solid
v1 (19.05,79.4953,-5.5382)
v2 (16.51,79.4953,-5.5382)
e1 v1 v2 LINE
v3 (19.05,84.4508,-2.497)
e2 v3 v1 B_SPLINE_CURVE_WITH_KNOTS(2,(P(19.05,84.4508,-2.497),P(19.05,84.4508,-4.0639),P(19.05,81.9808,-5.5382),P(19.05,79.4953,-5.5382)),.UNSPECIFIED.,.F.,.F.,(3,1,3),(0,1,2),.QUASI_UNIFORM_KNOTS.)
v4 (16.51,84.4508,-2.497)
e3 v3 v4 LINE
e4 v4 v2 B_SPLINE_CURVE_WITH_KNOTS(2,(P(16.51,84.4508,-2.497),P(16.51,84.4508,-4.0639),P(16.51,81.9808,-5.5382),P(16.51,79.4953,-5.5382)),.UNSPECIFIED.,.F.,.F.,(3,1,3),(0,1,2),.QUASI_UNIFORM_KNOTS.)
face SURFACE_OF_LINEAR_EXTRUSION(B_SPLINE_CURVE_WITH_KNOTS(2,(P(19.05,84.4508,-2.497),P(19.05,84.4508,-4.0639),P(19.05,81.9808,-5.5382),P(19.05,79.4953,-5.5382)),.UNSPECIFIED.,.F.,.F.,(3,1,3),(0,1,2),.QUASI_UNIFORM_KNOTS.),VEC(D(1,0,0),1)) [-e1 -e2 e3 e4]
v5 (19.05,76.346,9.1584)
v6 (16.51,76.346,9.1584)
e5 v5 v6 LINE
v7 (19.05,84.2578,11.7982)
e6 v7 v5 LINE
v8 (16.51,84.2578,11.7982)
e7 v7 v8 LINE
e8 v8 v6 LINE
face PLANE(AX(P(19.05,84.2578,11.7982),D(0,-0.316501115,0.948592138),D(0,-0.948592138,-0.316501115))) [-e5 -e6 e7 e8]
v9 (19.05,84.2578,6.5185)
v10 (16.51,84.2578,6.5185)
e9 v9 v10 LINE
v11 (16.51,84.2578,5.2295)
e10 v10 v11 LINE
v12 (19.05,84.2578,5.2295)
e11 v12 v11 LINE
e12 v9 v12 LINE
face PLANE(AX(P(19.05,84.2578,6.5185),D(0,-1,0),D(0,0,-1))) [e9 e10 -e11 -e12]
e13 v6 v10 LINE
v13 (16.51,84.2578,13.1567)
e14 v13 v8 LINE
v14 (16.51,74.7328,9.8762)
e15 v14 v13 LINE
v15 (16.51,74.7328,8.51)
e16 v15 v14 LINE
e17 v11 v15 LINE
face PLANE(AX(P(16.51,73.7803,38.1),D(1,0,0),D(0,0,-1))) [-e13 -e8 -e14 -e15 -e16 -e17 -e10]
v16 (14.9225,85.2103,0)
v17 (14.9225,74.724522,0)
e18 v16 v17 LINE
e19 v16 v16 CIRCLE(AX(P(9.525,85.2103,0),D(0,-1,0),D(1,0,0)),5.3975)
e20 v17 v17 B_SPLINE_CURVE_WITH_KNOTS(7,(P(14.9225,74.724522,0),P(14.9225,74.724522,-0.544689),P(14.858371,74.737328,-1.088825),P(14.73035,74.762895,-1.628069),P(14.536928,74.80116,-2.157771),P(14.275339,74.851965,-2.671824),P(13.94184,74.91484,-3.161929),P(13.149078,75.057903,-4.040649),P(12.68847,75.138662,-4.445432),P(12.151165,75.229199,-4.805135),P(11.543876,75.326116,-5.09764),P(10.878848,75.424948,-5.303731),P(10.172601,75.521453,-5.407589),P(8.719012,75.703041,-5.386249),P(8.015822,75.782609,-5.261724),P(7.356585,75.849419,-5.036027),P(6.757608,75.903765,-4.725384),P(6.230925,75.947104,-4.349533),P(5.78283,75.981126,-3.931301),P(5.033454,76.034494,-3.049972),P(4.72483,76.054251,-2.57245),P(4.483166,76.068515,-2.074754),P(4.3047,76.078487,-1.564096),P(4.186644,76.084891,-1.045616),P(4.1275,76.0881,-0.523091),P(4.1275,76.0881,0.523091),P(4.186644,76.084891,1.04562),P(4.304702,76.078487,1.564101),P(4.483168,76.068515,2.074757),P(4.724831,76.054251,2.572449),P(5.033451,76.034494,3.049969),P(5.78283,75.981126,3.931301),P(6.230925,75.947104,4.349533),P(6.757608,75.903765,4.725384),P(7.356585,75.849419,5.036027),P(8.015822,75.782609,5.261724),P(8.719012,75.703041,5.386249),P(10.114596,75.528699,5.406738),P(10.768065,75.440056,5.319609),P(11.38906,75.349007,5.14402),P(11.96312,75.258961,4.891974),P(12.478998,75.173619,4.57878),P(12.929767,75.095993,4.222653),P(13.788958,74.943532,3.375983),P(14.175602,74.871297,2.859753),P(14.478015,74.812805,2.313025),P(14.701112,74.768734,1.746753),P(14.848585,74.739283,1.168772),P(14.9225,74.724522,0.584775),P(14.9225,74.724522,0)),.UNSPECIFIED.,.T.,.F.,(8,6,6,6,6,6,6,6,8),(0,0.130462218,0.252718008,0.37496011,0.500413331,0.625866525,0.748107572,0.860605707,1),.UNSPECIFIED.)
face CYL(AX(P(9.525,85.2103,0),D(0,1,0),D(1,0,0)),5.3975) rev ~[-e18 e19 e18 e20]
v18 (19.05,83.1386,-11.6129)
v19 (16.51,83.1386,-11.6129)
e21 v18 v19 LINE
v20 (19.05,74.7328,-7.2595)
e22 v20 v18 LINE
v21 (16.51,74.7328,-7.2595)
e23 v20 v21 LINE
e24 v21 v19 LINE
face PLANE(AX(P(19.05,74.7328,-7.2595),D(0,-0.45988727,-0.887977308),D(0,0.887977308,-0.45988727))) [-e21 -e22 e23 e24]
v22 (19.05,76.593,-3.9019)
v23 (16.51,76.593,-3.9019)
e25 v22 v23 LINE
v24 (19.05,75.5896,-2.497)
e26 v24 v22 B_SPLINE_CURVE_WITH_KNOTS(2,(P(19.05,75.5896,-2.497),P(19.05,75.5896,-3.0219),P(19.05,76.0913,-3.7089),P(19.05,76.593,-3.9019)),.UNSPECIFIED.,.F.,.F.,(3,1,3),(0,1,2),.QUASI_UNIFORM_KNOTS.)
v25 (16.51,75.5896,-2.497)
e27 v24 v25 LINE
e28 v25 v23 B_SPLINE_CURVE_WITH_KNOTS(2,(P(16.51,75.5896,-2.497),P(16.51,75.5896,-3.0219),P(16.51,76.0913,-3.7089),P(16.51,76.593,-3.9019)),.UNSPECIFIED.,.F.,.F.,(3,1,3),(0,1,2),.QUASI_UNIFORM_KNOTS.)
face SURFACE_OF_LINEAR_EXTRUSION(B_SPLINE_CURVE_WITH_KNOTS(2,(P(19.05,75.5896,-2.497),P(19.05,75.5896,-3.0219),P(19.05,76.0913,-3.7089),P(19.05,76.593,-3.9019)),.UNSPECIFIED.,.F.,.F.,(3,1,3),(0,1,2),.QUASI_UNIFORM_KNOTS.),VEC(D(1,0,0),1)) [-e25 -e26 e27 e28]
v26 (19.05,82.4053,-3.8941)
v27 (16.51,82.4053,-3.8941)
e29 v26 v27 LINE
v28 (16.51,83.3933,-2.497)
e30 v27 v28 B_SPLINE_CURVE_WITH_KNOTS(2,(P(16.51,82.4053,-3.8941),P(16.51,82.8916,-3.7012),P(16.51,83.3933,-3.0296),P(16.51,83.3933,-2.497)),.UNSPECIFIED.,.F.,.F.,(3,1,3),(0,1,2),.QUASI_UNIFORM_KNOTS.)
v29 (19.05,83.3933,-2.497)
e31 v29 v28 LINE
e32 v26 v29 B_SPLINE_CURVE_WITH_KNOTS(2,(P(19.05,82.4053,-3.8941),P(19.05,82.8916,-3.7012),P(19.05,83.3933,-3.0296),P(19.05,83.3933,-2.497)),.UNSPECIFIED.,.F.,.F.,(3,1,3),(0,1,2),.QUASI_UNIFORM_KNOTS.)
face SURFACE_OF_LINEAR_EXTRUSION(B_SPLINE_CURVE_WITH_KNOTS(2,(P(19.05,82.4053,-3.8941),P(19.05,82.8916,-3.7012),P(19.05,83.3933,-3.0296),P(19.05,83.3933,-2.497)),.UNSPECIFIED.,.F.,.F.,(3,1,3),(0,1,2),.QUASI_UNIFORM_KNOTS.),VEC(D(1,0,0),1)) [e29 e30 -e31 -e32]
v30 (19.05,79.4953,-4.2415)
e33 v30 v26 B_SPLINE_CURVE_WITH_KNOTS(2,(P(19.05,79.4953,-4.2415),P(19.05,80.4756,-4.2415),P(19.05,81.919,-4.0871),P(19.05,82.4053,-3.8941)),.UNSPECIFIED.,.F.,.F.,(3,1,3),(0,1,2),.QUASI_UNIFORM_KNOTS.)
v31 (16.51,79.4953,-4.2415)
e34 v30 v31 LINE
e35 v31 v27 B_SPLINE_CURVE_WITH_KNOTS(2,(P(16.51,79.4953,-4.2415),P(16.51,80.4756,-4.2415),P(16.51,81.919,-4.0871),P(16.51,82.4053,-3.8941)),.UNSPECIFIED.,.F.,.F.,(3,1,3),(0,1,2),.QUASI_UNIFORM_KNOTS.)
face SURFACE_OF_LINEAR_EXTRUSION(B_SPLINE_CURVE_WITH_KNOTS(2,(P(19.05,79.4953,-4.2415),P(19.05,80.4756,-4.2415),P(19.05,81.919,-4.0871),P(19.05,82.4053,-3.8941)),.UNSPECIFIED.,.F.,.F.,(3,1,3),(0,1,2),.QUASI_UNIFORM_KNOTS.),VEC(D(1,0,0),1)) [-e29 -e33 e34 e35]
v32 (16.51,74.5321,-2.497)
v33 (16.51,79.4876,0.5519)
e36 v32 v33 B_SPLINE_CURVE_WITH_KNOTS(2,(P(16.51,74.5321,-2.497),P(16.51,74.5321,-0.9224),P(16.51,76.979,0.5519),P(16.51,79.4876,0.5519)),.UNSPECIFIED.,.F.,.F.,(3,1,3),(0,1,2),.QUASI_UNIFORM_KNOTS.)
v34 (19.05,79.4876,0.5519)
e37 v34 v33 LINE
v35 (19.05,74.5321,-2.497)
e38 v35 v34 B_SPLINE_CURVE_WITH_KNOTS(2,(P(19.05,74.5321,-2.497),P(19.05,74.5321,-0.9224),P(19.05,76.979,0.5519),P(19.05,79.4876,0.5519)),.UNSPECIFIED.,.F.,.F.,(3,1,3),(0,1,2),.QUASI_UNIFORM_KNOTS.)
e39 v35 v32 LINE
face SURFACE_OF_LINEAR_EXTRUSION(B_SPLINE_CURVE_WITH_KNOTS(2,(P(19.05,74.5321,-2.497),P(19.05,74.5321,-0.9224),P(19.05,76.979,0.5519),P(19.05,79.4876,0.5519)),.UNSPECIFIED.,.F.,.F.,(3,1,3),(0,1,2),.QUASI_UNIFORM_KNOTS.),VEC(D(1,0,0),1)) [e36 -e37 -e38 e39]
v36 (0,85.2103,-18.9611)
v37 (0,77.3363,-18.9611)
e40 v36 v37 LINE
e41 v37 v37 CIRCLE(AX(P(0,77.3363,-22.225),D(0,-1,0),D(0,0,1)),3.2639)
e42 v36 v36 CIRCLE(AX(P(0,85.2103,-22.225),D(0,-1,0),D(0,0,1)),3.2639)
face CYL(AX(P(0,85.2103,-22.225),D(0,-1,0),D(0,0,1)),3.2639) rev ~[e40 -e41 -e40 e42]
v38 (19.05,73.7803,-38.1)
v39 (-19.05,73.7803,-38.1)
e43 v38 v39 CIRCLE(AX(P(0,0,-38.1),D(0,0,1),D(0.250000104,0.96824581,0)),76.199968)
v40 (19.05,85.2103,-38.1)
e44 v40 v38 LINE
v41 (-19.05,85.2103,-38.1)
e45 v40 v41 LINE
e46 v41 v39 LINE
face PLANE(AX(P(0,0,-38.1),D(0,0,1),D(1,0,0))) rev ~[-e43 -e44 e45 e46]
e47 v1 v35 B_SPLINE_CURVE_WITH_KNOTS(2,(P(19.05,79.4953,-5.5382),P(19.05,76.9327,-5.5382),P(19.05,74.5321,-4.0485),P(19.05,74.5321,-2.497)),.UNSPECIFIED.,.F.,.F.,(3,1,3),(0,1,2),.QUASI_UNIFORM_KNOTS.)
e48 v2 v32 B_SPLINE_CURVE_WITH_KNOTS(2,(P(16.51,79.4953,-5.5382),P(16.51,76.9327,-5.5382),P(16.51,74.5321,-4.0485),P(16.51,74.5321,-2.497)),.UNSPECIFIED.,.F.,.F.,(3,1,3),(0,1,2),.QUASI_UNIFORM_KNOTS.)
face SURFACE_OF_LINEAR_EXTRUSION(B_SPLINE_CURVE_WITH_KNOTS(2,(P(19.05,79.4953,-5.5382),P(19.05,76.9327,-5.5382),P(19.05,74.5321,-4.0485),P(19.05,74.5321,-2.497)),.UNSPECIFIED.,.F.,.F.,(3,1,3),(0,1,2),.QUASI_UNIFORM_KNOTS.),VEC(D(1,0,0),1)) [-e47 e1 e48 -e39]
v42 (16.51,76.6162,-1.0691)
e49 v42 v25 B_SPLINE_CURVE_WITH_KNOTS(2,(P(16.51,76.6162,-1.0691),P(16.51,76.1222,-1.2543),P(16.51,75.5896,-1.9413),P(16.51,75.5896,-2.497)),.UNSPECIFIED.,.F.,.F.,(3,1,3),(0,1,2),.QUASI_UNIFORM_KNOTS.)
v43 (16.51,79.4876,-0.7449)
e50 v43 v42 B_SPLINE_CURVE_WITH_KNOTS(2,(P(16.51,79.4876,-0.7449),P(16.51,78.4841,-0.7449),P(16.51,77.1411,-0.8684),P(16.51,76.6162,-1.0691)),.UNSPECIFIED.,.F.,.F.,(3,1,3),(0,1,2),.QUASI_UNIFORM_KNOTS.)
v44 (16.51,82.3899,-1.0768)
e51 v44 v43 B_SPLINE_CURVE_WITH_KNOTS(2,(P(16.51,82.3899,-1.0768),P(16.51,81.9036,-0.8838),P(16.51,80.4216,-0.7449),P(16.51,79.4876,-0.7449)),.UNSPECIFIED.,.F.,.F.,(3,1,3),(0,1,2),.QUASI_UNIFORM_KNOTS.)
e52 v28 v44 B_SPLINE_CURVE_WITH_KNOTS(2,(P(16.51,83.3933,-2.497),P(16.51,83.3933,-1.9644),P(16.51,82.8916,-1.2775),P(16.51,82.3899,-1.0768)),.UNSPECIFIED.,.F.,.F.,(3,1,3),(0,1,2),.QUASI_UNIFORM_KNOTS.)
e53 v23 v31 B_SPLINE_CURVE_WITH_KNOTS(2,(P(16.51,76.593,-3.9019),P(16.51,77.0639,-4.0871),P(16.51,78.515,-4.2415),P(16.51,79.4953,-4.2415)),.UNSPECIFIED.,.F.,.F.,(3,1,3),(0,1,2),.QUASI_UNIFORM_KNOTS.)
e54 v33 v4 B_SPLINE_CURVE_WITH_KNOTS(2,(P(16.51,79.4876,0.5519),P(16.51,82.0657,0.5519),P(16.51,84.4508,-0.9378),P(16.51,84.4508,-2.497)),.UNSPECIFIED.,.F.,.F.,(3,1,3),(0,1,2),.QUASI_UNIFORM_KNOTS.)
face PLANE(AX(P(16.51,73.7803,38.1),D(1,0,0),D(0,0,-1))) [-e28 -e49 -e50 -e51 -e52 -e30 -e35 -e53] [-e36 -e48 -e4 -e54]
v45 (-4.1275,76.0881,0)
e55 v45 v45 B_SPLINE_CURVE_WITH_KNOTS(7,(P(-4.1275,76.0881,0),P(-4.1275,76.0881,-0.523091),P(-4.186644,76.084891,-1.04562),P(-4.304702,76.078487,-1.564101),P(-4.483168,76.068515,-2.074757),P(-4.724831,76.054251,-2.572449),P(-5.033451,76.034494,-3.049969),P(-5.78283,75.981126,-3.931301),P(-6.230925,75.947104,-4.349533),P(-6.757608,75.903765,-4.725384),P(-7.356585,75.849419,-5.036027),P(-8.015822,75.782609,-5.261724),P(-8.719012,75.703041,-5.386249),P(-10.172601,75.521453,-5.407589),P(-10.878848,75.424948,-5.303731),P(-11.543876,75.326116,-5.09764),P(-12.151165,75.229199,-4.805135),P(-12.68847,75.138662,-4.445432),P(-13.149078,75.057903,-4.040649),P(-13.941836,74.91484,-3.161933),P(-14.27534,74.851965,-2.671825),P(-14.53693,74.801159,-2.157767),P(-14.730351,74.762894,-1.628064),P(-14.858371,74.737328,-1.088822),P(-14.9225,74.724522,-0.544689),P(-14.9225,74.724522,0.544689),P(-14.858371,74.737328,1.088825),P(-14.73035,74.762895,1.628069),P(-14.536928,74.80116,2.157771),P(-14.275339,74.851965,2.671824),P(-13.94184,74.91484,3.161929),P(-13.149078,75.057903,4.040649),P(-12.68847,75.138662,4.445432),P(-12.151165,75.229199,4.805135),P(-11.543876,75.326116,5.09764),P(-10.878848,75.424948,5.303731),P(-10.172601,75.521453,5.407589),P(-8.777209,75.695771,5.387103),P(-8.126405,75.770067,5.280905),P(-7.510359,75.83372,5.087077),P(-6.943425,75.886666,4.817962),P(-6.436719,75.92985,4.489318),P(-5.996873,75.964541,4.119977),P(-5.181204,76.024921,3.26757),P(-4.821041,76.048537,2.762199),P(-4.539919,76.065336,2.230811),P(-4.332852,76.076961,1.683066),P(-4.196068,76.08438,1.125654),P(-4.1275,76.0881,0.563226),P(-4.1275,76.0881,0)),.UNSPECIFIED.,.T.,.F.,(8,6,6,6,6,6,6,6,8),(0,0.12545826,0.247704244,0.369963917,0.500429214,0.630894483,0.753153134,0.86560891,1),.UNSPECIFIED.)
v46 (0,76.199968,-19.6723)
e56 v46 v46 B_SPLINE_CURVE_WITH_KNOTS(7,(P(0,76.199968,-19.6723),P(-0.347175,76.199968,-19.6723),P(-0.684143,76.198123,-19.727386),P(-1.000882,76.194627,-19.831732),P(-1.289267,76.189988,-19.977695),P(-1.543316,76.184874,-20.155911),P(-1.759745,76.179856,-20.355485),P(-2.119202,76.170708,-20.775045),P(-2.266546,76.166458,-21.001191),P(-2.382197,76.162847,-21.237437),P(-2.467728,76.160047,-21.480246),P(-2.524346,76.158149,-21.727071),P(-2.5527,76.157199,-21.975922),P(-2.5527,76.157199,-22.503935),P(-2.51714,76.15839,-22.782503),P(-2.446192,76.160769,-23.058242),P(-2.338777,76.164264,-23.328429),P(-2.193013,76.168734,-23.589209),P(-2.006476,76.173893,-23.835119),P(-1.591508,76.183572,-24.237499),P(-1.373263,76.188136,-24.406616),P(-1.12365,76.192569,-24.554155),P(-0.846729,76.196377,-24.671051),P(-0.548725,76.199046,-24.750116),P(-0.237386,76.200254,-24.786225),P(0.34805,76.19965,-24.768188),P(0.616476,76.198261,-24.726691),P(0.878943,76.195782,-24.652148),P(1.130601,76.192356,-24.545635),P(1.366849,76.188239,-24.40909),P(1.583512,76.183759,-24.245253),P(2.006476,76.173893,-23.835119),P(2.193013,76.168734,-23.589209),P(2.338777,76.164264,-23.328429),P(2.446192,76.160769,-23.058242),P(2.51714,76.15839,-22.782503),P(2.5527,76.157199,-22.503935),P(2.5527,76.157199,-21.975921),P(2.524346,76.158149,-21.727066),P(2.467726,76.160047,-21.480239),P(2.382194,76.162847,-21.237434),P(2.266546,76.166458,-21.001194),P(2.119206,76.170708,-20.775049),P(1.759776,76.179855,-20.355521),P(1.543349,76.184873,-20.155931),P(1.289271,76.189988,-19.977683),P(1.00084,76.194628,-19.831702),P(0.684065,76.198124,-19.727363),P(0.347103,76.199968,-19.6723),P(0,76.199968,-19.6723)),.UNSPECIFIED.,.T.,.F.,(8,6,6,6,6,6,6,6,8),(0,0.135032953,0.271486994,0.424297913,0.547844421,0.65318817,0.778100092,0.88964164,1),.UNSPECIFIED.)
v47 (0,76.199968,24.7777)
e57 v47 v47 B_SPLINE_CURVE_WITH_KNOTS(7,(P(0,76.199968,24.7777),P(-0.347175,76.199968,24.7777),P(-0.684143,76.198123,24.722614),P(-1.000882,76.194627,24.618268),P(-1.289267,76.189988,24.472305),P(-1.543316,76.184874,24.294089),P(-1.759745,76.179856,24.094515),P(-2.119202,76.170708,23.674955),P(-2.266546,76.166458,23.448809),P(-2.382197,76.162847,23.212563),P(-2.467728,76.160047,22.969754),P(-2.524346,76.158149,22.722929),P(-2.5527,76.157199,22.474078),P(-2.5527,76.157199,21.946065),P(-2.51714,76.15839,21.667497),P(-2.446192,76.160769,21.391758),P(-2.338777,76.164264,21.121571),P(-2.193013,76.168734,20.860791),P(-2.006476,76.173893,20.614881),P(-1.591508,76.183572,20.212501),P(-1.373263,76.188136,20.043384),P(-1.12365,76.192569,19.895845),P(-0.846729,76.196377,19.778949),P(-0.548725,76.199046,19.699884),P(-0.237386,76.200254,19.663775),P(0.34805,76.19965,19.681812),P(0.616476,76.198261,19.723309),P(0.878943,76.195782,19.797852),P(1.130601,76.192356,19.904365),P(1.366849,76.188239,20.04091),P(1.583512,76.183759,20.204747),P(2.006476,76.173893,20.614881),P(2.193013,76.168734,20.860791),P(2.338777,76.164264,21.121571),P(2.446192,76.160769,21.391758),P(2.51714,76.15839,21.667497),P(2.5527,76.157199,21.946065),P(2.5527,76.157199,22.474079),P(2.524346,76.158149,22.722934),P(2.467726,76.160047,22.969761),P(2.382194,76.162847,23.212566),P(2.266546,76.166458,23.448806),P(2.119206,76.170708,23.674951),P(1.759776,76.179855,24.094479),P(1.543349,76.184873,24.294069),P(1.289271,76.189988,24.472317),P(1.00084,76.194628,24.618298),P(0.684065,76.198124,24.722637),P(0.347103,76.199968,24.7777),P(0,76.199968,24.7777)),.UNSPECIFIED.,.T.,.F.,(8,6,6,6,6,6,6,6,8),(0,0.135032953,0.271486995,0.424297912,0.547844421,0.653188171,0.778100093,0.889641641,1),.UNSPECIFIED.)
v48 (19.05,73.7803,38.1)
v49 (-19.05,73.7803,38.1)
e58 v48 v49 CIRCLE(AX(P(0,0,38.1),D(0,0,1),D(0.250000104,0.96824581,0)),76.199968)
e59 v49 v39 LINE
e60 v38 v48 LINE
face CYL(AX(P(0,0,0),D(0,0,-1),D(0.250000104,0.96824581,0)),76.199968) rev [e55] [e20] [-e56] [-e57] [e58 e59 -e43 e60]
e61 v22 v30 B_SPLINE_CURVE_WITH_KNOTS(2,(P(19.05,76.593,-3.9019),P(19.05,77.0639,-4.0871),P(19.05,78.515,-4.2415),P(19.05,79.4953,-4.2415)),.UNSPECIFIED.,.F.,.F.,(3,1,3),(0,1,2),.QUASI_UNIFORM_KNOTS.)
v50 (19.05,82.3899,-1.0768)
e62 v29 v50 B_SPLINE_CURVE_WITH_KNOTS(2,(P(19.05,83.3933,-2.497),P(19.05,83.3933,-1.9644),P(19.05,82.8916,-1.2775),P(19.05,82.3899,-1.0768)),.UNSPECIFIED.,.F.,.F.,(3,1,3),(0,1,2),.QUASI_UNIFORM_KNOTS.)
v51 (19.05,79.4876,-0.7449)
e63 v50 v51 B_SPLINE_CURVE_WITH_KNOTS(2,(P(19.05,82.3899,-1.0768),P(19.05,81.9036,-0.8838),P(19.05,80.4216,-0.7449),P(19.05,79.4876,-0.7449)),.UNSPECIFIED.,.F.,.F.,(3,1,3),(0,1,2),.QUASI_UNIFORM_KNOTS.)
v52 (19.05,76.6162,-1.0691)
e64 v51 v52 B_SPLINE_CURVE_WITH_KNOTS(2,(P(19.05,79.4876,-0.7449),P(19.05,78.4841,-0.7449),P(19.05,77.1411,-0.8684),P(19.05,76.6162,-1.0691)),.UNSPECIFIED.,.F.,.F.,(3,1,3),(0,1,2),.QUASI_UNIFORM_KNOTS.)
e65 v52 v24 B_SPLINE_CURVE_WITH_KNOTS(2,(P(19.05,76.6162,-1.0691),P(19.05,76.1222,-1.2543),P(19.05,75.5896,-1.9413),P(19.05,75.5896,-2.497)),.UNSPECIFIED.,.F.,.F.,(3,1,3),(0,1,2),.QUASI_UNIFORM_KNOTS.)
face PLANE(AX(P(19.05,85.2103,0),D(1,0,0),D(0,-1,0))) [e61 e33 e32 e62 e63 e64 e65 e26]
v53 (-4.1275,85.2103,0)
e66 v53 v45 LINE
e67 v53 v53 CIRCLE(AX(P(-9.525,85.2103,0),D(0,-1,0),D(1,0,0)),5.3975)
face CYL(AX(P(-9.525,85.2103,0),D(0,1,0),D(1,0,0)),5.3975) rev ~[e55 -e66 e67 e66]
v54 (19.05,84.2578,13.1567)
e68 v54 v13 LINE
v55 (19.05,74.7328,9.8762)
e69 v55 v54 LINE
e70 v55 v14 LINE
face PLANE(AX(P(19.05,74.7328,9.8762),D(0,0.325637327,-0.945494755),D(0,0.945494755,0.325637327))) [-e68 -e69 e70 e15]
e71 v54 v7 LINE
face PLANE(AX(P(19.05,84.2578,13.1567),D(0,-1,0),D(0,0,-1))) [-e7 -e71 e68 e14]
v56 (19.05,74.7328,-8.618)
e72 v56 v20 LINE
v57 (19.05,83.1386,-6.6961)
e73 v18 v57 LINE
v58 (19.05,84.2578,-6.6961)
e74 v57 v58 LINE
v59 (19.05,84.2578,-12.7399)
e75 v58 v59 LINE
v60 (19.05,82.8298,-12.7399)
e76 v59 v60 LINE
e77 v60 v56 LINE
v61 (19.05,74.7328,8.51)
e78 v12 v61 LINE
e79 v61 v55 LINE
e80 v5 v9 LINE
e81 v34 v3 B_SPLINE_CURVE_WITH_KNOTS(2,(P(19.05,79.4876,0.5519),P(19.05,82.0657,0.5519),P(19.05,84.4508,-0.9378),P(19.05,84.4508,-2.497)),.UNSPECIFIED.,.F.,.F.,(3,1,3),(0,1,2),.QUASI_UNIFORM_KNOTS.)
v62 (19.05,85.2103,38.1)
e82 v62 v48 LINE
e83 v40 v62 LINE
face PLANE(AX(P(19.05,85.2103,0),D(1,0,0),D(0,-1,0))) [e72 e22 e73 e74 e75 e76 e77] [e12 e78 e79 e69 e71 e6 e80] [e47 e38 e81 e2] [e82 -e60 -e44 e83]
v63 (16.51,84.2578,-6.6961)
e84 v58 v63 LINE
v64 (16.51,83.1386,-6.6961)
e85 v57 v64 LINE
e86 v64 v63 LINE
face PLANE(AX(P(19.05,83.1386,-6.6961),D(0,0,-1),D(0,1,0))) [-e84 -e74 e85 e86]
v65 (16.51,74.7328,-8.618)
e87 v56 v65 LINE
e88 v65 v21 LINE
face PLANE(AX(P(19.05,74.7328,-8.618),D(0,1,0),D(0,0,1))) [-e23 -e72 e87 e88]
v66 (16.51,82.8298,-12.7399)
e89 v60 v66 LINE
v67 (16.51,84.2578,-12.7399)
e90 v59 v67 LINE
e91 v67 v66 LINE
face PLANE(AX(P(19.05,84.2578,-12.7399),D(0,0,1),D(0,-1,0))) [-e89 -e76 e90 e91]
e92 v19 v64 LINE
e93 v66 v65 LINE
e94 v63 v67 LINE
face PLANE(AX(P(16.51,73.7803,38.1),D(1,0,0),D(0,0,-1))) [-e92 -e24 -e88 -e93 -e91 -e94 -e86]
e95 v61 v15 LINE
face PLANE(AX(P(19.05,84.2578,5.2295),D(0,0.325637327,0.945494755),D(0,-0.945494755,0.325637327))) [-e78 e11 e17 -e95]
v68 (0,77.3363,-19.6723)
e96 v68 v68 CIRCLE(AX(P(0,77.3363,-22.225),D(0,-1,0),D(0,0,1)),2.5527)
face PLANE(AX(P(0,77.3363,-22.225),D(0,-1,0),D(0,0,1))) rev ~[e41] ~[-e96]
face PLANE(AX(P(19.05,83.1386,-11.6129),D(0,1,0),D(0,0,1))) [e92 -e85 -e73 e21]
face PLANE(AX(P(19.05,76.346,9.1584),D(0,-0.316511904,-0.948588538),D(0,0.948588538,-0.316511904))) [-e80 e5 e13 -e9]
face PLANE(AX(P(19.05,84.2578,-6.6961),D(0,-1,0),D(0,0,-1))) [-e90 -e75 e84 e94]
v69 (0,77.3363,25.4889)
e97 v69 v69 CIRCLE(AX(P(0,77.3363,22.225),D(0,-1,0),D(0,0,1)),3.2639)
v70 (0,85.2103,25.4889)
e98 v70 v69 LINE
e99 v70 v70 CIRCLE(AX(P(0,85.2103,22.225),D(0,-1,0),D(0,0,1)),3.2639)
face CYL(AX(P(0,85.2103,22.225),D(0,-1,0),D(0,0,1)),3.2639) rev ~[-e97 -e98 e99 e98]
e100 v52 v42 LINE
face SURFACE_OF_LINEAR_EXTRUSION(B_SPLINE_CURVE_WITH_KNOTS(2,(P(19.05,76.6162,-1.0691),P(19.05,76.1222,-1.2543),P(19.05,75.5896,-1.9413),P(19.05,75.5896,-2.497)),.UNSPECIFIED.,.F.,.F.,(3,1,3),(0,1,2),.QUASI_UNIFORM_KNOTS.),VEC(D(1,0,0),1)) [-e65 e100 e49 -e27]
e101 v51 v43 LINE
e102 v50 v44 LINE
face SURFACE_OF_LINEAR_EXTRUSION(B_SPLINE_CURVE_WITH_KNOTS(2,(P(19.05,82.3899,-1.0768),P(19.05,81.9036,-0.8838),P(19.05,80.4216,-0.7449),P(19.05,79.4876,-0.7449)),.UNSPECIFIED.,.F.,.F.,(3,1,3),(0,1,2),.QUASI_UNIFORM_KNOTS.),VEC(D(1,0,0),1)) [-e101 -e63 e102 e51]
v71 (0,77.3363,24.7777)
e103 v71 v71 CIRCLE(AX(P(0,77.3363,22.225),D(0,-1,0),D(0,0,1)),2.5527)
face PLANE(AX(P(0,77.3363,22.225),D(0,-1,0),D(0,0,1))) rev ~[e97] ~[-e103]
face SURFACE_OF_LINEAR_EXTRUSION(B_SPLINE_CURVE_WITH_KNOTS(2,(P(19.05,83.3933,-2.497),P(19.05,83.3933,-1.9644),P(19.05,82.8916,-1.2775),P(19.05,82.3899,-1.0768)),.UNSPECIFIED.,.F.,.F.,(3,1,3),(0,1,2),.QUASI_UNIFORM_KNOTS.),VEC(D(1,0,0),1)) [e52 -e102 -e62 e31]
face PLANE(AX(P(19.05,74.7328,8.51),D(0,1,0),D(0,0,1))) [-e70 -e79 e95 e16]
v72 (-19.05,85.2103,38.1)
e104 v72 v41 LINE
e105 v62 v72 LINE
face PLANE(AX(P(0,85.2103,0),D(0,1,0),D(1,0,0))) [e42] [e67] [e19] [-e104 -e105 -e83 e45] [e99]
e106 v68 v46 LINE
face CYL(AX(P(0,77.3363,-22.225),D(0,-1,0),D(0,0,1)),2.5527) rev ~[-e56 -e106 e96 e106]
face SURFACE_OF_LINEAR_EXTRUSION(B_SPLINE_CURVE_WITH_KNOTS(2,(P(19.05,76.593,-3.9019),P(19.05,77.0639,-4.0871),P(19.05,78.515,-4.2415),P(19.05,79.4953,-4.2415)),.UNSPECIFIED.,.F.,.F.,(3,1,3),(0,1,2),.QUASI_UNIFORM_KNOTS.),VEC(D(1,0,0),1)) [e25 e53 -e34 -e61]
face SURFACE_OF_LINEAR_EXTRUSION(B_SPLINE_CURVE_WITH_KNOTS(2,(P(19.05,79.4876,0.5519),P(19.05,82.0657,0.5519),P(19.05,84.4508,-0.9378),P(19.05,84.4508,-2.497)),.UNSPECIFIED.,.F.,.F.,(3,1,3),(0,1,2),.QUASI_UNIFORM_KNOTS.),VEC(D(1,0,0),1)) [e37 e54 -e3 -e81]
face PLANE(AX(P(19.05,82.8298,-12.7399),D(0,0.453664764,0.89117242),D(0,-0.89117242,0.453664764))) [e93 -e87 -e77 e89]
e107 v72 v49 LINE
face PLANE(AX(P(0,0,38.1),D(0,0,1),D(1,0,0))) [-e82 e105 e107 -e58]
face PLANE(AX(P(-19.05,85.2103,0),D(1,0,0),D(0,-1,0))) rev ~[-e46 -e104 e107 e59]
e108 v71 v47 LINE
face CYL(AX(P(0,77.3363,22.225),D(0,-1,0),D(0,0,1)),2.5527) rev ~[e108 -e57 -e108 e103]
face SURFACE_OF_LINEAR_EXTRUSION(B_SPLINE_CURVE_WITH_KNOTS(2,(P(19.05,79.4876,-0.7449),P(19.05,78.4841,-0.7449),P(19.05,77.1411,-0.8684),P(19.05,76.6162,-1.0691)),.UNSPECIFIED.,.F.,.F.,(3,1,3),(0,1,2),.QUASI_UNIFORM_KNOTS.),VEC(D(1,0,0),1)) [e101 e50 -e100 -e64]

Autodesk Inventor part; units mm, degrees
ref_plane "YZ Plane" through (0, 0, 0) normal (1, 0, 0) x (0, 1, 0)
ref_plane "XZ Plane" through (0, 0, 0) normal (0, 1, 0) x (-1, 0, 0)
ref_plane "XY Plane" through (0, 0, 0) normal (0, 0, 1) x (1, 0, 0)
sketch "Sketch1" plane through (0, 0, 0) normal (0, 0, 1) x (1, 0, 0)
  arc A0 (19.05, 73.7803) -> (-19.05, 73.7803) centre (0, 0) ccw
  line L0 (0, 85.2103) -> (19.05, 85.2103)
  line L1 (19.05, 85.2103) -> (19.05, 73.7803)
  line L2 (0, 76.2) -> (0, 85.2103) construction
  line L3 (0, 85.2103) -> (-19.05, 85.2103)
  line L4 (-19.05, 85.2103) -> (-19.05, 73.7803)
  dimension "d0" = 152.4
  dimension "d1" = 19.05
  dimension "d2" = 11.43
extrude "Extrusion1" add sketch "Sketch1" along normal mid plane 76.2
sketch "Sketch23" plane through (-19.05, 85.2103, 38.1) normal (0, 1, 0) x (1, 0, 0)
  line L0 (38.1, 0) -> (0, 0) construction
  line L1 (19.05, 0) -> (19.05, 76.2) construction
  line L2 (0, 76.2) -> (38.1, 76.2) construction
  point P0 (19.05, 38.1)
  point P1 (19.05, 15.875)
  point P2 (19.05, 60.325)
  dimension "d183" = 15.875
  dimension "d184" = 15.875
hole "Hole2" at (0, 85.2103, 22.225) at (0, 85.2103, -22.225) direction (0, -1, 0) diameter 5.1054 end through all counterbore diameter 6.5278 counterbore depth 7.874 clearance for "Hex Machine Screw" size "#10" standard "Ansi Unified Screw Threads"
sketch "Sketch24" plane through (-19.05, 85.2103, 38.1) normal (0, 1, 0) x (1, 0, 0)
  line L0 (0, 76.2) -> (0, 0) construction
  line L1 (0, 38.1) -> (38.1, 38.1) construction
  line L2 (38.1, 76.2) -> (38.1, 0) construction
  line L3 (38.1, 0) -> (0, 0) construction
  line L4 (19.05, 0) -> (19.05, 76.2) construction
  line L5 (0, 76.2) -> (38.1, 76.2) construction
  line L6 (28.575, 38.1) -> (28.575, 38.1) construction
  line L7 (33.9725, 38.1) -> (33.9725, 38.1)
  line L8 (23.1775, 38.1) -> (23.1775, 38.1)
  arc A0 (23.1775, 38.1) -> (33.9725, 38.1) centre (28.575, 38.1) ccw
  arc A1 (33.9725, 38.1) -> (23.1775, 38.1) centre (28.575, 38.1) ccw
  line L9 (9.525, 38.1) -> (9.525, 38.1) construction
  line L10 (14.9225, 38.1) -> (14.9225, 38.1)
  line L11 (4.1275, 38.1) -> (4.1275, 38.1)
  arc A2 (4.1275, 38.1) -> (14.9225, 38.1) centre (9.525, 38.1) ccw
  arc A3 (14.9225, 38.1) -> (4.1275, 38.1) centre (9.525, 38.1) ccw
  point P0 (19.05, 38.1)
  point P1 (28.575, 38.1)
  point P2 (9.525, 38.1)
  dimension "d192" = 9.525
  dimension "d194" = 9.525
  dimension "d195" = 19.05
  dimension "d199" = 10.795
  dimension "d200" = 10.795
extrude "Extrusion8" cut sketch "Sketch24" against normal through all
sketch "Sketch25" plane through (19.05, 73.7803, 38.1) normal (1, 0, 0) x (0, 0, -1)
  line L0 (0, 11.43) -> (0, 0) construction
  line L1 (0, 5.715) -> (76.2, 5.715) construction
  line L2 (76.2, 11.43) -> (76.2, 0) construction
  line L3 (32.8705, 10.4775) -> (29.59, 0.9525)
  line L4 (29.59, 0.9525) -> (28.2238, 0.9525)
  line L5 (28.2238, 0.9525) -> (24.9433, 10.4775)
  line L6 (24.9433, 10.4775) -> (26.3018, 10.4775)
  line L7 (26.3018, 10.4775) -> (28.9416, 2.5657)
  line L8 (28.9416, 2.5657) -> (31.5815, 10.4775)
  line L9 (31.5815, 10.4775) -> (32.8705, 10.4775)
  spline S0 degree 2 poles (43.6382, 5.715) (43.6382, 3.1524) (42.1485, 0.7518) (40.597, 0.7518) knots 0 0 0 1 2 2 2
  spline S1 degree 2 poles (40.597, 0.7518) (39.0224, 0.7518) (37.5481, 3.1987) (37.5481, 5.7073) knots 0 0 0 1 2 2 2
  spline S2 degree 2 poles (37.5481, 5.7073) (37.5481, 8.2854) (39.0378, 10.6705) (40.597, 10.6705) knots 0 0 0 1 2 2 2
  spline S3 degree 2 poles (40.597, 10.6705) (42.1639, 10.6705) (43.6382, 8.2005) (43.6382, 5.715) knots 0 0 0 1 2 2 2
  spline S4 degree 2 poles (42.0019, 2.8127) (42.1871, 3.2836) (42.3415, 4.7347) (42.3415, 5.715) knots 0 0 0 1 2 2 2
  spline S5 degree 2 poles (42.3415, 5.715) (42.3415, 6.6953) (42.1871, 8.1387) (41.9941, 8.625) knots 0 0 0 1 2 2 2
  spline S6 degree 2 poles (41.9941, 8.625) (41.8012, 9.1113) (41.1296, 9.613) (40.597, 9.613) knots 0 0 0 1 2 2 2
  spline S7 degree 2 poles (40.597, 9.613) (40.0644, 9.613) (39.3775, 9.1113) (39.1768, 8.6096) knots 0 0 0 1 2 2 2
  spline S8 degree 2 poles (39.1768, 8.6096) (38.9838, 8.1233) (38.8449, 6.6413) (38.8449, 5.7073) knots 0 0 0 1 2 2 2
  spline S9 degree 2 poles (38.8449, 5.7073) (38.8449, 4.7038) (38.9684, 3.3608) (39.1691, 2.8359) knots 0 0 0 1 2 2 2
  spline S10 degree 2 poles (39.1691, 2.8359) (39.3543, 2.3419) (40.0413, 1.8093) (40.597, 1.8093) knots 0 0 0 1 2 2 2
  spline S11 degree 2 poles (40.597, 1.8093) (41.1219, 1.8093) (41.8089, 2.311) (42.0019, 2.8127) knots 0 0 0 1 2 2 2
  line L10 (50.8399, 9.0495) -> (46.718, 0.9525)
  line L11 (46.718, 0.9525) -> (45.3595, 0.9525)
  line L12 (45.3595, 0.9525) -> (49.7129, 9.3583)
  line L13 (49.7129, 9.3583) -> (44.7961, 9.3583)
  line L14 (44.7961, 9.3583) -> (44.7961, 10.4775)
  line L15 (44.7961, 10.4775) -> (50.8399, 10.4775)
  line L16 (50.8399, 10.4775) -> (50.8399, 9.0495)
  point P0 (38.1, -73.7803)
extrude "Extrusion9" cut sketch "Sketch25" against normal blind 2.54
equation "\"d51\" = 0.125 * Sketch8_Pitch"
equation "\"Sketch8_Pitch\" = 0.79375"
equation "\"d53\" = 60deg"
equation "\"d72\" = 0.125 * Sketch10_Pitch"
equation "\"Sketch10_Pitch\" = 0.79375"
equation "\"d74\" = 60deg"
equation "\"d93\" = 0.125 * Sketch12_Pitch"
equation "\"Sketch12_Pitch\" = 0.79375"
equation "\"d95\" = 60deg"
equation "\"d114\" = 0.125 * Sketch14_Pitch"
equation "\"Sketch14_Pitch\" = 0.79375"
equation "\"d116\" = 60deg"
equation "\"d135\" = 0.125 * Sketch16_Pitch"
equation "\"Sketch16_Pitch\" = 0.79375"
equation "\"d137\" = 60deg"
equation "\"d156\" = 0.125 * Sketch18_Pitch"
equation "\"Sketch18_Pitch\" = 0.79375"
equation "\"d158\" = 60deg"
properties part number "finderSupportPartV07" material "PC/ABS Plastic"
